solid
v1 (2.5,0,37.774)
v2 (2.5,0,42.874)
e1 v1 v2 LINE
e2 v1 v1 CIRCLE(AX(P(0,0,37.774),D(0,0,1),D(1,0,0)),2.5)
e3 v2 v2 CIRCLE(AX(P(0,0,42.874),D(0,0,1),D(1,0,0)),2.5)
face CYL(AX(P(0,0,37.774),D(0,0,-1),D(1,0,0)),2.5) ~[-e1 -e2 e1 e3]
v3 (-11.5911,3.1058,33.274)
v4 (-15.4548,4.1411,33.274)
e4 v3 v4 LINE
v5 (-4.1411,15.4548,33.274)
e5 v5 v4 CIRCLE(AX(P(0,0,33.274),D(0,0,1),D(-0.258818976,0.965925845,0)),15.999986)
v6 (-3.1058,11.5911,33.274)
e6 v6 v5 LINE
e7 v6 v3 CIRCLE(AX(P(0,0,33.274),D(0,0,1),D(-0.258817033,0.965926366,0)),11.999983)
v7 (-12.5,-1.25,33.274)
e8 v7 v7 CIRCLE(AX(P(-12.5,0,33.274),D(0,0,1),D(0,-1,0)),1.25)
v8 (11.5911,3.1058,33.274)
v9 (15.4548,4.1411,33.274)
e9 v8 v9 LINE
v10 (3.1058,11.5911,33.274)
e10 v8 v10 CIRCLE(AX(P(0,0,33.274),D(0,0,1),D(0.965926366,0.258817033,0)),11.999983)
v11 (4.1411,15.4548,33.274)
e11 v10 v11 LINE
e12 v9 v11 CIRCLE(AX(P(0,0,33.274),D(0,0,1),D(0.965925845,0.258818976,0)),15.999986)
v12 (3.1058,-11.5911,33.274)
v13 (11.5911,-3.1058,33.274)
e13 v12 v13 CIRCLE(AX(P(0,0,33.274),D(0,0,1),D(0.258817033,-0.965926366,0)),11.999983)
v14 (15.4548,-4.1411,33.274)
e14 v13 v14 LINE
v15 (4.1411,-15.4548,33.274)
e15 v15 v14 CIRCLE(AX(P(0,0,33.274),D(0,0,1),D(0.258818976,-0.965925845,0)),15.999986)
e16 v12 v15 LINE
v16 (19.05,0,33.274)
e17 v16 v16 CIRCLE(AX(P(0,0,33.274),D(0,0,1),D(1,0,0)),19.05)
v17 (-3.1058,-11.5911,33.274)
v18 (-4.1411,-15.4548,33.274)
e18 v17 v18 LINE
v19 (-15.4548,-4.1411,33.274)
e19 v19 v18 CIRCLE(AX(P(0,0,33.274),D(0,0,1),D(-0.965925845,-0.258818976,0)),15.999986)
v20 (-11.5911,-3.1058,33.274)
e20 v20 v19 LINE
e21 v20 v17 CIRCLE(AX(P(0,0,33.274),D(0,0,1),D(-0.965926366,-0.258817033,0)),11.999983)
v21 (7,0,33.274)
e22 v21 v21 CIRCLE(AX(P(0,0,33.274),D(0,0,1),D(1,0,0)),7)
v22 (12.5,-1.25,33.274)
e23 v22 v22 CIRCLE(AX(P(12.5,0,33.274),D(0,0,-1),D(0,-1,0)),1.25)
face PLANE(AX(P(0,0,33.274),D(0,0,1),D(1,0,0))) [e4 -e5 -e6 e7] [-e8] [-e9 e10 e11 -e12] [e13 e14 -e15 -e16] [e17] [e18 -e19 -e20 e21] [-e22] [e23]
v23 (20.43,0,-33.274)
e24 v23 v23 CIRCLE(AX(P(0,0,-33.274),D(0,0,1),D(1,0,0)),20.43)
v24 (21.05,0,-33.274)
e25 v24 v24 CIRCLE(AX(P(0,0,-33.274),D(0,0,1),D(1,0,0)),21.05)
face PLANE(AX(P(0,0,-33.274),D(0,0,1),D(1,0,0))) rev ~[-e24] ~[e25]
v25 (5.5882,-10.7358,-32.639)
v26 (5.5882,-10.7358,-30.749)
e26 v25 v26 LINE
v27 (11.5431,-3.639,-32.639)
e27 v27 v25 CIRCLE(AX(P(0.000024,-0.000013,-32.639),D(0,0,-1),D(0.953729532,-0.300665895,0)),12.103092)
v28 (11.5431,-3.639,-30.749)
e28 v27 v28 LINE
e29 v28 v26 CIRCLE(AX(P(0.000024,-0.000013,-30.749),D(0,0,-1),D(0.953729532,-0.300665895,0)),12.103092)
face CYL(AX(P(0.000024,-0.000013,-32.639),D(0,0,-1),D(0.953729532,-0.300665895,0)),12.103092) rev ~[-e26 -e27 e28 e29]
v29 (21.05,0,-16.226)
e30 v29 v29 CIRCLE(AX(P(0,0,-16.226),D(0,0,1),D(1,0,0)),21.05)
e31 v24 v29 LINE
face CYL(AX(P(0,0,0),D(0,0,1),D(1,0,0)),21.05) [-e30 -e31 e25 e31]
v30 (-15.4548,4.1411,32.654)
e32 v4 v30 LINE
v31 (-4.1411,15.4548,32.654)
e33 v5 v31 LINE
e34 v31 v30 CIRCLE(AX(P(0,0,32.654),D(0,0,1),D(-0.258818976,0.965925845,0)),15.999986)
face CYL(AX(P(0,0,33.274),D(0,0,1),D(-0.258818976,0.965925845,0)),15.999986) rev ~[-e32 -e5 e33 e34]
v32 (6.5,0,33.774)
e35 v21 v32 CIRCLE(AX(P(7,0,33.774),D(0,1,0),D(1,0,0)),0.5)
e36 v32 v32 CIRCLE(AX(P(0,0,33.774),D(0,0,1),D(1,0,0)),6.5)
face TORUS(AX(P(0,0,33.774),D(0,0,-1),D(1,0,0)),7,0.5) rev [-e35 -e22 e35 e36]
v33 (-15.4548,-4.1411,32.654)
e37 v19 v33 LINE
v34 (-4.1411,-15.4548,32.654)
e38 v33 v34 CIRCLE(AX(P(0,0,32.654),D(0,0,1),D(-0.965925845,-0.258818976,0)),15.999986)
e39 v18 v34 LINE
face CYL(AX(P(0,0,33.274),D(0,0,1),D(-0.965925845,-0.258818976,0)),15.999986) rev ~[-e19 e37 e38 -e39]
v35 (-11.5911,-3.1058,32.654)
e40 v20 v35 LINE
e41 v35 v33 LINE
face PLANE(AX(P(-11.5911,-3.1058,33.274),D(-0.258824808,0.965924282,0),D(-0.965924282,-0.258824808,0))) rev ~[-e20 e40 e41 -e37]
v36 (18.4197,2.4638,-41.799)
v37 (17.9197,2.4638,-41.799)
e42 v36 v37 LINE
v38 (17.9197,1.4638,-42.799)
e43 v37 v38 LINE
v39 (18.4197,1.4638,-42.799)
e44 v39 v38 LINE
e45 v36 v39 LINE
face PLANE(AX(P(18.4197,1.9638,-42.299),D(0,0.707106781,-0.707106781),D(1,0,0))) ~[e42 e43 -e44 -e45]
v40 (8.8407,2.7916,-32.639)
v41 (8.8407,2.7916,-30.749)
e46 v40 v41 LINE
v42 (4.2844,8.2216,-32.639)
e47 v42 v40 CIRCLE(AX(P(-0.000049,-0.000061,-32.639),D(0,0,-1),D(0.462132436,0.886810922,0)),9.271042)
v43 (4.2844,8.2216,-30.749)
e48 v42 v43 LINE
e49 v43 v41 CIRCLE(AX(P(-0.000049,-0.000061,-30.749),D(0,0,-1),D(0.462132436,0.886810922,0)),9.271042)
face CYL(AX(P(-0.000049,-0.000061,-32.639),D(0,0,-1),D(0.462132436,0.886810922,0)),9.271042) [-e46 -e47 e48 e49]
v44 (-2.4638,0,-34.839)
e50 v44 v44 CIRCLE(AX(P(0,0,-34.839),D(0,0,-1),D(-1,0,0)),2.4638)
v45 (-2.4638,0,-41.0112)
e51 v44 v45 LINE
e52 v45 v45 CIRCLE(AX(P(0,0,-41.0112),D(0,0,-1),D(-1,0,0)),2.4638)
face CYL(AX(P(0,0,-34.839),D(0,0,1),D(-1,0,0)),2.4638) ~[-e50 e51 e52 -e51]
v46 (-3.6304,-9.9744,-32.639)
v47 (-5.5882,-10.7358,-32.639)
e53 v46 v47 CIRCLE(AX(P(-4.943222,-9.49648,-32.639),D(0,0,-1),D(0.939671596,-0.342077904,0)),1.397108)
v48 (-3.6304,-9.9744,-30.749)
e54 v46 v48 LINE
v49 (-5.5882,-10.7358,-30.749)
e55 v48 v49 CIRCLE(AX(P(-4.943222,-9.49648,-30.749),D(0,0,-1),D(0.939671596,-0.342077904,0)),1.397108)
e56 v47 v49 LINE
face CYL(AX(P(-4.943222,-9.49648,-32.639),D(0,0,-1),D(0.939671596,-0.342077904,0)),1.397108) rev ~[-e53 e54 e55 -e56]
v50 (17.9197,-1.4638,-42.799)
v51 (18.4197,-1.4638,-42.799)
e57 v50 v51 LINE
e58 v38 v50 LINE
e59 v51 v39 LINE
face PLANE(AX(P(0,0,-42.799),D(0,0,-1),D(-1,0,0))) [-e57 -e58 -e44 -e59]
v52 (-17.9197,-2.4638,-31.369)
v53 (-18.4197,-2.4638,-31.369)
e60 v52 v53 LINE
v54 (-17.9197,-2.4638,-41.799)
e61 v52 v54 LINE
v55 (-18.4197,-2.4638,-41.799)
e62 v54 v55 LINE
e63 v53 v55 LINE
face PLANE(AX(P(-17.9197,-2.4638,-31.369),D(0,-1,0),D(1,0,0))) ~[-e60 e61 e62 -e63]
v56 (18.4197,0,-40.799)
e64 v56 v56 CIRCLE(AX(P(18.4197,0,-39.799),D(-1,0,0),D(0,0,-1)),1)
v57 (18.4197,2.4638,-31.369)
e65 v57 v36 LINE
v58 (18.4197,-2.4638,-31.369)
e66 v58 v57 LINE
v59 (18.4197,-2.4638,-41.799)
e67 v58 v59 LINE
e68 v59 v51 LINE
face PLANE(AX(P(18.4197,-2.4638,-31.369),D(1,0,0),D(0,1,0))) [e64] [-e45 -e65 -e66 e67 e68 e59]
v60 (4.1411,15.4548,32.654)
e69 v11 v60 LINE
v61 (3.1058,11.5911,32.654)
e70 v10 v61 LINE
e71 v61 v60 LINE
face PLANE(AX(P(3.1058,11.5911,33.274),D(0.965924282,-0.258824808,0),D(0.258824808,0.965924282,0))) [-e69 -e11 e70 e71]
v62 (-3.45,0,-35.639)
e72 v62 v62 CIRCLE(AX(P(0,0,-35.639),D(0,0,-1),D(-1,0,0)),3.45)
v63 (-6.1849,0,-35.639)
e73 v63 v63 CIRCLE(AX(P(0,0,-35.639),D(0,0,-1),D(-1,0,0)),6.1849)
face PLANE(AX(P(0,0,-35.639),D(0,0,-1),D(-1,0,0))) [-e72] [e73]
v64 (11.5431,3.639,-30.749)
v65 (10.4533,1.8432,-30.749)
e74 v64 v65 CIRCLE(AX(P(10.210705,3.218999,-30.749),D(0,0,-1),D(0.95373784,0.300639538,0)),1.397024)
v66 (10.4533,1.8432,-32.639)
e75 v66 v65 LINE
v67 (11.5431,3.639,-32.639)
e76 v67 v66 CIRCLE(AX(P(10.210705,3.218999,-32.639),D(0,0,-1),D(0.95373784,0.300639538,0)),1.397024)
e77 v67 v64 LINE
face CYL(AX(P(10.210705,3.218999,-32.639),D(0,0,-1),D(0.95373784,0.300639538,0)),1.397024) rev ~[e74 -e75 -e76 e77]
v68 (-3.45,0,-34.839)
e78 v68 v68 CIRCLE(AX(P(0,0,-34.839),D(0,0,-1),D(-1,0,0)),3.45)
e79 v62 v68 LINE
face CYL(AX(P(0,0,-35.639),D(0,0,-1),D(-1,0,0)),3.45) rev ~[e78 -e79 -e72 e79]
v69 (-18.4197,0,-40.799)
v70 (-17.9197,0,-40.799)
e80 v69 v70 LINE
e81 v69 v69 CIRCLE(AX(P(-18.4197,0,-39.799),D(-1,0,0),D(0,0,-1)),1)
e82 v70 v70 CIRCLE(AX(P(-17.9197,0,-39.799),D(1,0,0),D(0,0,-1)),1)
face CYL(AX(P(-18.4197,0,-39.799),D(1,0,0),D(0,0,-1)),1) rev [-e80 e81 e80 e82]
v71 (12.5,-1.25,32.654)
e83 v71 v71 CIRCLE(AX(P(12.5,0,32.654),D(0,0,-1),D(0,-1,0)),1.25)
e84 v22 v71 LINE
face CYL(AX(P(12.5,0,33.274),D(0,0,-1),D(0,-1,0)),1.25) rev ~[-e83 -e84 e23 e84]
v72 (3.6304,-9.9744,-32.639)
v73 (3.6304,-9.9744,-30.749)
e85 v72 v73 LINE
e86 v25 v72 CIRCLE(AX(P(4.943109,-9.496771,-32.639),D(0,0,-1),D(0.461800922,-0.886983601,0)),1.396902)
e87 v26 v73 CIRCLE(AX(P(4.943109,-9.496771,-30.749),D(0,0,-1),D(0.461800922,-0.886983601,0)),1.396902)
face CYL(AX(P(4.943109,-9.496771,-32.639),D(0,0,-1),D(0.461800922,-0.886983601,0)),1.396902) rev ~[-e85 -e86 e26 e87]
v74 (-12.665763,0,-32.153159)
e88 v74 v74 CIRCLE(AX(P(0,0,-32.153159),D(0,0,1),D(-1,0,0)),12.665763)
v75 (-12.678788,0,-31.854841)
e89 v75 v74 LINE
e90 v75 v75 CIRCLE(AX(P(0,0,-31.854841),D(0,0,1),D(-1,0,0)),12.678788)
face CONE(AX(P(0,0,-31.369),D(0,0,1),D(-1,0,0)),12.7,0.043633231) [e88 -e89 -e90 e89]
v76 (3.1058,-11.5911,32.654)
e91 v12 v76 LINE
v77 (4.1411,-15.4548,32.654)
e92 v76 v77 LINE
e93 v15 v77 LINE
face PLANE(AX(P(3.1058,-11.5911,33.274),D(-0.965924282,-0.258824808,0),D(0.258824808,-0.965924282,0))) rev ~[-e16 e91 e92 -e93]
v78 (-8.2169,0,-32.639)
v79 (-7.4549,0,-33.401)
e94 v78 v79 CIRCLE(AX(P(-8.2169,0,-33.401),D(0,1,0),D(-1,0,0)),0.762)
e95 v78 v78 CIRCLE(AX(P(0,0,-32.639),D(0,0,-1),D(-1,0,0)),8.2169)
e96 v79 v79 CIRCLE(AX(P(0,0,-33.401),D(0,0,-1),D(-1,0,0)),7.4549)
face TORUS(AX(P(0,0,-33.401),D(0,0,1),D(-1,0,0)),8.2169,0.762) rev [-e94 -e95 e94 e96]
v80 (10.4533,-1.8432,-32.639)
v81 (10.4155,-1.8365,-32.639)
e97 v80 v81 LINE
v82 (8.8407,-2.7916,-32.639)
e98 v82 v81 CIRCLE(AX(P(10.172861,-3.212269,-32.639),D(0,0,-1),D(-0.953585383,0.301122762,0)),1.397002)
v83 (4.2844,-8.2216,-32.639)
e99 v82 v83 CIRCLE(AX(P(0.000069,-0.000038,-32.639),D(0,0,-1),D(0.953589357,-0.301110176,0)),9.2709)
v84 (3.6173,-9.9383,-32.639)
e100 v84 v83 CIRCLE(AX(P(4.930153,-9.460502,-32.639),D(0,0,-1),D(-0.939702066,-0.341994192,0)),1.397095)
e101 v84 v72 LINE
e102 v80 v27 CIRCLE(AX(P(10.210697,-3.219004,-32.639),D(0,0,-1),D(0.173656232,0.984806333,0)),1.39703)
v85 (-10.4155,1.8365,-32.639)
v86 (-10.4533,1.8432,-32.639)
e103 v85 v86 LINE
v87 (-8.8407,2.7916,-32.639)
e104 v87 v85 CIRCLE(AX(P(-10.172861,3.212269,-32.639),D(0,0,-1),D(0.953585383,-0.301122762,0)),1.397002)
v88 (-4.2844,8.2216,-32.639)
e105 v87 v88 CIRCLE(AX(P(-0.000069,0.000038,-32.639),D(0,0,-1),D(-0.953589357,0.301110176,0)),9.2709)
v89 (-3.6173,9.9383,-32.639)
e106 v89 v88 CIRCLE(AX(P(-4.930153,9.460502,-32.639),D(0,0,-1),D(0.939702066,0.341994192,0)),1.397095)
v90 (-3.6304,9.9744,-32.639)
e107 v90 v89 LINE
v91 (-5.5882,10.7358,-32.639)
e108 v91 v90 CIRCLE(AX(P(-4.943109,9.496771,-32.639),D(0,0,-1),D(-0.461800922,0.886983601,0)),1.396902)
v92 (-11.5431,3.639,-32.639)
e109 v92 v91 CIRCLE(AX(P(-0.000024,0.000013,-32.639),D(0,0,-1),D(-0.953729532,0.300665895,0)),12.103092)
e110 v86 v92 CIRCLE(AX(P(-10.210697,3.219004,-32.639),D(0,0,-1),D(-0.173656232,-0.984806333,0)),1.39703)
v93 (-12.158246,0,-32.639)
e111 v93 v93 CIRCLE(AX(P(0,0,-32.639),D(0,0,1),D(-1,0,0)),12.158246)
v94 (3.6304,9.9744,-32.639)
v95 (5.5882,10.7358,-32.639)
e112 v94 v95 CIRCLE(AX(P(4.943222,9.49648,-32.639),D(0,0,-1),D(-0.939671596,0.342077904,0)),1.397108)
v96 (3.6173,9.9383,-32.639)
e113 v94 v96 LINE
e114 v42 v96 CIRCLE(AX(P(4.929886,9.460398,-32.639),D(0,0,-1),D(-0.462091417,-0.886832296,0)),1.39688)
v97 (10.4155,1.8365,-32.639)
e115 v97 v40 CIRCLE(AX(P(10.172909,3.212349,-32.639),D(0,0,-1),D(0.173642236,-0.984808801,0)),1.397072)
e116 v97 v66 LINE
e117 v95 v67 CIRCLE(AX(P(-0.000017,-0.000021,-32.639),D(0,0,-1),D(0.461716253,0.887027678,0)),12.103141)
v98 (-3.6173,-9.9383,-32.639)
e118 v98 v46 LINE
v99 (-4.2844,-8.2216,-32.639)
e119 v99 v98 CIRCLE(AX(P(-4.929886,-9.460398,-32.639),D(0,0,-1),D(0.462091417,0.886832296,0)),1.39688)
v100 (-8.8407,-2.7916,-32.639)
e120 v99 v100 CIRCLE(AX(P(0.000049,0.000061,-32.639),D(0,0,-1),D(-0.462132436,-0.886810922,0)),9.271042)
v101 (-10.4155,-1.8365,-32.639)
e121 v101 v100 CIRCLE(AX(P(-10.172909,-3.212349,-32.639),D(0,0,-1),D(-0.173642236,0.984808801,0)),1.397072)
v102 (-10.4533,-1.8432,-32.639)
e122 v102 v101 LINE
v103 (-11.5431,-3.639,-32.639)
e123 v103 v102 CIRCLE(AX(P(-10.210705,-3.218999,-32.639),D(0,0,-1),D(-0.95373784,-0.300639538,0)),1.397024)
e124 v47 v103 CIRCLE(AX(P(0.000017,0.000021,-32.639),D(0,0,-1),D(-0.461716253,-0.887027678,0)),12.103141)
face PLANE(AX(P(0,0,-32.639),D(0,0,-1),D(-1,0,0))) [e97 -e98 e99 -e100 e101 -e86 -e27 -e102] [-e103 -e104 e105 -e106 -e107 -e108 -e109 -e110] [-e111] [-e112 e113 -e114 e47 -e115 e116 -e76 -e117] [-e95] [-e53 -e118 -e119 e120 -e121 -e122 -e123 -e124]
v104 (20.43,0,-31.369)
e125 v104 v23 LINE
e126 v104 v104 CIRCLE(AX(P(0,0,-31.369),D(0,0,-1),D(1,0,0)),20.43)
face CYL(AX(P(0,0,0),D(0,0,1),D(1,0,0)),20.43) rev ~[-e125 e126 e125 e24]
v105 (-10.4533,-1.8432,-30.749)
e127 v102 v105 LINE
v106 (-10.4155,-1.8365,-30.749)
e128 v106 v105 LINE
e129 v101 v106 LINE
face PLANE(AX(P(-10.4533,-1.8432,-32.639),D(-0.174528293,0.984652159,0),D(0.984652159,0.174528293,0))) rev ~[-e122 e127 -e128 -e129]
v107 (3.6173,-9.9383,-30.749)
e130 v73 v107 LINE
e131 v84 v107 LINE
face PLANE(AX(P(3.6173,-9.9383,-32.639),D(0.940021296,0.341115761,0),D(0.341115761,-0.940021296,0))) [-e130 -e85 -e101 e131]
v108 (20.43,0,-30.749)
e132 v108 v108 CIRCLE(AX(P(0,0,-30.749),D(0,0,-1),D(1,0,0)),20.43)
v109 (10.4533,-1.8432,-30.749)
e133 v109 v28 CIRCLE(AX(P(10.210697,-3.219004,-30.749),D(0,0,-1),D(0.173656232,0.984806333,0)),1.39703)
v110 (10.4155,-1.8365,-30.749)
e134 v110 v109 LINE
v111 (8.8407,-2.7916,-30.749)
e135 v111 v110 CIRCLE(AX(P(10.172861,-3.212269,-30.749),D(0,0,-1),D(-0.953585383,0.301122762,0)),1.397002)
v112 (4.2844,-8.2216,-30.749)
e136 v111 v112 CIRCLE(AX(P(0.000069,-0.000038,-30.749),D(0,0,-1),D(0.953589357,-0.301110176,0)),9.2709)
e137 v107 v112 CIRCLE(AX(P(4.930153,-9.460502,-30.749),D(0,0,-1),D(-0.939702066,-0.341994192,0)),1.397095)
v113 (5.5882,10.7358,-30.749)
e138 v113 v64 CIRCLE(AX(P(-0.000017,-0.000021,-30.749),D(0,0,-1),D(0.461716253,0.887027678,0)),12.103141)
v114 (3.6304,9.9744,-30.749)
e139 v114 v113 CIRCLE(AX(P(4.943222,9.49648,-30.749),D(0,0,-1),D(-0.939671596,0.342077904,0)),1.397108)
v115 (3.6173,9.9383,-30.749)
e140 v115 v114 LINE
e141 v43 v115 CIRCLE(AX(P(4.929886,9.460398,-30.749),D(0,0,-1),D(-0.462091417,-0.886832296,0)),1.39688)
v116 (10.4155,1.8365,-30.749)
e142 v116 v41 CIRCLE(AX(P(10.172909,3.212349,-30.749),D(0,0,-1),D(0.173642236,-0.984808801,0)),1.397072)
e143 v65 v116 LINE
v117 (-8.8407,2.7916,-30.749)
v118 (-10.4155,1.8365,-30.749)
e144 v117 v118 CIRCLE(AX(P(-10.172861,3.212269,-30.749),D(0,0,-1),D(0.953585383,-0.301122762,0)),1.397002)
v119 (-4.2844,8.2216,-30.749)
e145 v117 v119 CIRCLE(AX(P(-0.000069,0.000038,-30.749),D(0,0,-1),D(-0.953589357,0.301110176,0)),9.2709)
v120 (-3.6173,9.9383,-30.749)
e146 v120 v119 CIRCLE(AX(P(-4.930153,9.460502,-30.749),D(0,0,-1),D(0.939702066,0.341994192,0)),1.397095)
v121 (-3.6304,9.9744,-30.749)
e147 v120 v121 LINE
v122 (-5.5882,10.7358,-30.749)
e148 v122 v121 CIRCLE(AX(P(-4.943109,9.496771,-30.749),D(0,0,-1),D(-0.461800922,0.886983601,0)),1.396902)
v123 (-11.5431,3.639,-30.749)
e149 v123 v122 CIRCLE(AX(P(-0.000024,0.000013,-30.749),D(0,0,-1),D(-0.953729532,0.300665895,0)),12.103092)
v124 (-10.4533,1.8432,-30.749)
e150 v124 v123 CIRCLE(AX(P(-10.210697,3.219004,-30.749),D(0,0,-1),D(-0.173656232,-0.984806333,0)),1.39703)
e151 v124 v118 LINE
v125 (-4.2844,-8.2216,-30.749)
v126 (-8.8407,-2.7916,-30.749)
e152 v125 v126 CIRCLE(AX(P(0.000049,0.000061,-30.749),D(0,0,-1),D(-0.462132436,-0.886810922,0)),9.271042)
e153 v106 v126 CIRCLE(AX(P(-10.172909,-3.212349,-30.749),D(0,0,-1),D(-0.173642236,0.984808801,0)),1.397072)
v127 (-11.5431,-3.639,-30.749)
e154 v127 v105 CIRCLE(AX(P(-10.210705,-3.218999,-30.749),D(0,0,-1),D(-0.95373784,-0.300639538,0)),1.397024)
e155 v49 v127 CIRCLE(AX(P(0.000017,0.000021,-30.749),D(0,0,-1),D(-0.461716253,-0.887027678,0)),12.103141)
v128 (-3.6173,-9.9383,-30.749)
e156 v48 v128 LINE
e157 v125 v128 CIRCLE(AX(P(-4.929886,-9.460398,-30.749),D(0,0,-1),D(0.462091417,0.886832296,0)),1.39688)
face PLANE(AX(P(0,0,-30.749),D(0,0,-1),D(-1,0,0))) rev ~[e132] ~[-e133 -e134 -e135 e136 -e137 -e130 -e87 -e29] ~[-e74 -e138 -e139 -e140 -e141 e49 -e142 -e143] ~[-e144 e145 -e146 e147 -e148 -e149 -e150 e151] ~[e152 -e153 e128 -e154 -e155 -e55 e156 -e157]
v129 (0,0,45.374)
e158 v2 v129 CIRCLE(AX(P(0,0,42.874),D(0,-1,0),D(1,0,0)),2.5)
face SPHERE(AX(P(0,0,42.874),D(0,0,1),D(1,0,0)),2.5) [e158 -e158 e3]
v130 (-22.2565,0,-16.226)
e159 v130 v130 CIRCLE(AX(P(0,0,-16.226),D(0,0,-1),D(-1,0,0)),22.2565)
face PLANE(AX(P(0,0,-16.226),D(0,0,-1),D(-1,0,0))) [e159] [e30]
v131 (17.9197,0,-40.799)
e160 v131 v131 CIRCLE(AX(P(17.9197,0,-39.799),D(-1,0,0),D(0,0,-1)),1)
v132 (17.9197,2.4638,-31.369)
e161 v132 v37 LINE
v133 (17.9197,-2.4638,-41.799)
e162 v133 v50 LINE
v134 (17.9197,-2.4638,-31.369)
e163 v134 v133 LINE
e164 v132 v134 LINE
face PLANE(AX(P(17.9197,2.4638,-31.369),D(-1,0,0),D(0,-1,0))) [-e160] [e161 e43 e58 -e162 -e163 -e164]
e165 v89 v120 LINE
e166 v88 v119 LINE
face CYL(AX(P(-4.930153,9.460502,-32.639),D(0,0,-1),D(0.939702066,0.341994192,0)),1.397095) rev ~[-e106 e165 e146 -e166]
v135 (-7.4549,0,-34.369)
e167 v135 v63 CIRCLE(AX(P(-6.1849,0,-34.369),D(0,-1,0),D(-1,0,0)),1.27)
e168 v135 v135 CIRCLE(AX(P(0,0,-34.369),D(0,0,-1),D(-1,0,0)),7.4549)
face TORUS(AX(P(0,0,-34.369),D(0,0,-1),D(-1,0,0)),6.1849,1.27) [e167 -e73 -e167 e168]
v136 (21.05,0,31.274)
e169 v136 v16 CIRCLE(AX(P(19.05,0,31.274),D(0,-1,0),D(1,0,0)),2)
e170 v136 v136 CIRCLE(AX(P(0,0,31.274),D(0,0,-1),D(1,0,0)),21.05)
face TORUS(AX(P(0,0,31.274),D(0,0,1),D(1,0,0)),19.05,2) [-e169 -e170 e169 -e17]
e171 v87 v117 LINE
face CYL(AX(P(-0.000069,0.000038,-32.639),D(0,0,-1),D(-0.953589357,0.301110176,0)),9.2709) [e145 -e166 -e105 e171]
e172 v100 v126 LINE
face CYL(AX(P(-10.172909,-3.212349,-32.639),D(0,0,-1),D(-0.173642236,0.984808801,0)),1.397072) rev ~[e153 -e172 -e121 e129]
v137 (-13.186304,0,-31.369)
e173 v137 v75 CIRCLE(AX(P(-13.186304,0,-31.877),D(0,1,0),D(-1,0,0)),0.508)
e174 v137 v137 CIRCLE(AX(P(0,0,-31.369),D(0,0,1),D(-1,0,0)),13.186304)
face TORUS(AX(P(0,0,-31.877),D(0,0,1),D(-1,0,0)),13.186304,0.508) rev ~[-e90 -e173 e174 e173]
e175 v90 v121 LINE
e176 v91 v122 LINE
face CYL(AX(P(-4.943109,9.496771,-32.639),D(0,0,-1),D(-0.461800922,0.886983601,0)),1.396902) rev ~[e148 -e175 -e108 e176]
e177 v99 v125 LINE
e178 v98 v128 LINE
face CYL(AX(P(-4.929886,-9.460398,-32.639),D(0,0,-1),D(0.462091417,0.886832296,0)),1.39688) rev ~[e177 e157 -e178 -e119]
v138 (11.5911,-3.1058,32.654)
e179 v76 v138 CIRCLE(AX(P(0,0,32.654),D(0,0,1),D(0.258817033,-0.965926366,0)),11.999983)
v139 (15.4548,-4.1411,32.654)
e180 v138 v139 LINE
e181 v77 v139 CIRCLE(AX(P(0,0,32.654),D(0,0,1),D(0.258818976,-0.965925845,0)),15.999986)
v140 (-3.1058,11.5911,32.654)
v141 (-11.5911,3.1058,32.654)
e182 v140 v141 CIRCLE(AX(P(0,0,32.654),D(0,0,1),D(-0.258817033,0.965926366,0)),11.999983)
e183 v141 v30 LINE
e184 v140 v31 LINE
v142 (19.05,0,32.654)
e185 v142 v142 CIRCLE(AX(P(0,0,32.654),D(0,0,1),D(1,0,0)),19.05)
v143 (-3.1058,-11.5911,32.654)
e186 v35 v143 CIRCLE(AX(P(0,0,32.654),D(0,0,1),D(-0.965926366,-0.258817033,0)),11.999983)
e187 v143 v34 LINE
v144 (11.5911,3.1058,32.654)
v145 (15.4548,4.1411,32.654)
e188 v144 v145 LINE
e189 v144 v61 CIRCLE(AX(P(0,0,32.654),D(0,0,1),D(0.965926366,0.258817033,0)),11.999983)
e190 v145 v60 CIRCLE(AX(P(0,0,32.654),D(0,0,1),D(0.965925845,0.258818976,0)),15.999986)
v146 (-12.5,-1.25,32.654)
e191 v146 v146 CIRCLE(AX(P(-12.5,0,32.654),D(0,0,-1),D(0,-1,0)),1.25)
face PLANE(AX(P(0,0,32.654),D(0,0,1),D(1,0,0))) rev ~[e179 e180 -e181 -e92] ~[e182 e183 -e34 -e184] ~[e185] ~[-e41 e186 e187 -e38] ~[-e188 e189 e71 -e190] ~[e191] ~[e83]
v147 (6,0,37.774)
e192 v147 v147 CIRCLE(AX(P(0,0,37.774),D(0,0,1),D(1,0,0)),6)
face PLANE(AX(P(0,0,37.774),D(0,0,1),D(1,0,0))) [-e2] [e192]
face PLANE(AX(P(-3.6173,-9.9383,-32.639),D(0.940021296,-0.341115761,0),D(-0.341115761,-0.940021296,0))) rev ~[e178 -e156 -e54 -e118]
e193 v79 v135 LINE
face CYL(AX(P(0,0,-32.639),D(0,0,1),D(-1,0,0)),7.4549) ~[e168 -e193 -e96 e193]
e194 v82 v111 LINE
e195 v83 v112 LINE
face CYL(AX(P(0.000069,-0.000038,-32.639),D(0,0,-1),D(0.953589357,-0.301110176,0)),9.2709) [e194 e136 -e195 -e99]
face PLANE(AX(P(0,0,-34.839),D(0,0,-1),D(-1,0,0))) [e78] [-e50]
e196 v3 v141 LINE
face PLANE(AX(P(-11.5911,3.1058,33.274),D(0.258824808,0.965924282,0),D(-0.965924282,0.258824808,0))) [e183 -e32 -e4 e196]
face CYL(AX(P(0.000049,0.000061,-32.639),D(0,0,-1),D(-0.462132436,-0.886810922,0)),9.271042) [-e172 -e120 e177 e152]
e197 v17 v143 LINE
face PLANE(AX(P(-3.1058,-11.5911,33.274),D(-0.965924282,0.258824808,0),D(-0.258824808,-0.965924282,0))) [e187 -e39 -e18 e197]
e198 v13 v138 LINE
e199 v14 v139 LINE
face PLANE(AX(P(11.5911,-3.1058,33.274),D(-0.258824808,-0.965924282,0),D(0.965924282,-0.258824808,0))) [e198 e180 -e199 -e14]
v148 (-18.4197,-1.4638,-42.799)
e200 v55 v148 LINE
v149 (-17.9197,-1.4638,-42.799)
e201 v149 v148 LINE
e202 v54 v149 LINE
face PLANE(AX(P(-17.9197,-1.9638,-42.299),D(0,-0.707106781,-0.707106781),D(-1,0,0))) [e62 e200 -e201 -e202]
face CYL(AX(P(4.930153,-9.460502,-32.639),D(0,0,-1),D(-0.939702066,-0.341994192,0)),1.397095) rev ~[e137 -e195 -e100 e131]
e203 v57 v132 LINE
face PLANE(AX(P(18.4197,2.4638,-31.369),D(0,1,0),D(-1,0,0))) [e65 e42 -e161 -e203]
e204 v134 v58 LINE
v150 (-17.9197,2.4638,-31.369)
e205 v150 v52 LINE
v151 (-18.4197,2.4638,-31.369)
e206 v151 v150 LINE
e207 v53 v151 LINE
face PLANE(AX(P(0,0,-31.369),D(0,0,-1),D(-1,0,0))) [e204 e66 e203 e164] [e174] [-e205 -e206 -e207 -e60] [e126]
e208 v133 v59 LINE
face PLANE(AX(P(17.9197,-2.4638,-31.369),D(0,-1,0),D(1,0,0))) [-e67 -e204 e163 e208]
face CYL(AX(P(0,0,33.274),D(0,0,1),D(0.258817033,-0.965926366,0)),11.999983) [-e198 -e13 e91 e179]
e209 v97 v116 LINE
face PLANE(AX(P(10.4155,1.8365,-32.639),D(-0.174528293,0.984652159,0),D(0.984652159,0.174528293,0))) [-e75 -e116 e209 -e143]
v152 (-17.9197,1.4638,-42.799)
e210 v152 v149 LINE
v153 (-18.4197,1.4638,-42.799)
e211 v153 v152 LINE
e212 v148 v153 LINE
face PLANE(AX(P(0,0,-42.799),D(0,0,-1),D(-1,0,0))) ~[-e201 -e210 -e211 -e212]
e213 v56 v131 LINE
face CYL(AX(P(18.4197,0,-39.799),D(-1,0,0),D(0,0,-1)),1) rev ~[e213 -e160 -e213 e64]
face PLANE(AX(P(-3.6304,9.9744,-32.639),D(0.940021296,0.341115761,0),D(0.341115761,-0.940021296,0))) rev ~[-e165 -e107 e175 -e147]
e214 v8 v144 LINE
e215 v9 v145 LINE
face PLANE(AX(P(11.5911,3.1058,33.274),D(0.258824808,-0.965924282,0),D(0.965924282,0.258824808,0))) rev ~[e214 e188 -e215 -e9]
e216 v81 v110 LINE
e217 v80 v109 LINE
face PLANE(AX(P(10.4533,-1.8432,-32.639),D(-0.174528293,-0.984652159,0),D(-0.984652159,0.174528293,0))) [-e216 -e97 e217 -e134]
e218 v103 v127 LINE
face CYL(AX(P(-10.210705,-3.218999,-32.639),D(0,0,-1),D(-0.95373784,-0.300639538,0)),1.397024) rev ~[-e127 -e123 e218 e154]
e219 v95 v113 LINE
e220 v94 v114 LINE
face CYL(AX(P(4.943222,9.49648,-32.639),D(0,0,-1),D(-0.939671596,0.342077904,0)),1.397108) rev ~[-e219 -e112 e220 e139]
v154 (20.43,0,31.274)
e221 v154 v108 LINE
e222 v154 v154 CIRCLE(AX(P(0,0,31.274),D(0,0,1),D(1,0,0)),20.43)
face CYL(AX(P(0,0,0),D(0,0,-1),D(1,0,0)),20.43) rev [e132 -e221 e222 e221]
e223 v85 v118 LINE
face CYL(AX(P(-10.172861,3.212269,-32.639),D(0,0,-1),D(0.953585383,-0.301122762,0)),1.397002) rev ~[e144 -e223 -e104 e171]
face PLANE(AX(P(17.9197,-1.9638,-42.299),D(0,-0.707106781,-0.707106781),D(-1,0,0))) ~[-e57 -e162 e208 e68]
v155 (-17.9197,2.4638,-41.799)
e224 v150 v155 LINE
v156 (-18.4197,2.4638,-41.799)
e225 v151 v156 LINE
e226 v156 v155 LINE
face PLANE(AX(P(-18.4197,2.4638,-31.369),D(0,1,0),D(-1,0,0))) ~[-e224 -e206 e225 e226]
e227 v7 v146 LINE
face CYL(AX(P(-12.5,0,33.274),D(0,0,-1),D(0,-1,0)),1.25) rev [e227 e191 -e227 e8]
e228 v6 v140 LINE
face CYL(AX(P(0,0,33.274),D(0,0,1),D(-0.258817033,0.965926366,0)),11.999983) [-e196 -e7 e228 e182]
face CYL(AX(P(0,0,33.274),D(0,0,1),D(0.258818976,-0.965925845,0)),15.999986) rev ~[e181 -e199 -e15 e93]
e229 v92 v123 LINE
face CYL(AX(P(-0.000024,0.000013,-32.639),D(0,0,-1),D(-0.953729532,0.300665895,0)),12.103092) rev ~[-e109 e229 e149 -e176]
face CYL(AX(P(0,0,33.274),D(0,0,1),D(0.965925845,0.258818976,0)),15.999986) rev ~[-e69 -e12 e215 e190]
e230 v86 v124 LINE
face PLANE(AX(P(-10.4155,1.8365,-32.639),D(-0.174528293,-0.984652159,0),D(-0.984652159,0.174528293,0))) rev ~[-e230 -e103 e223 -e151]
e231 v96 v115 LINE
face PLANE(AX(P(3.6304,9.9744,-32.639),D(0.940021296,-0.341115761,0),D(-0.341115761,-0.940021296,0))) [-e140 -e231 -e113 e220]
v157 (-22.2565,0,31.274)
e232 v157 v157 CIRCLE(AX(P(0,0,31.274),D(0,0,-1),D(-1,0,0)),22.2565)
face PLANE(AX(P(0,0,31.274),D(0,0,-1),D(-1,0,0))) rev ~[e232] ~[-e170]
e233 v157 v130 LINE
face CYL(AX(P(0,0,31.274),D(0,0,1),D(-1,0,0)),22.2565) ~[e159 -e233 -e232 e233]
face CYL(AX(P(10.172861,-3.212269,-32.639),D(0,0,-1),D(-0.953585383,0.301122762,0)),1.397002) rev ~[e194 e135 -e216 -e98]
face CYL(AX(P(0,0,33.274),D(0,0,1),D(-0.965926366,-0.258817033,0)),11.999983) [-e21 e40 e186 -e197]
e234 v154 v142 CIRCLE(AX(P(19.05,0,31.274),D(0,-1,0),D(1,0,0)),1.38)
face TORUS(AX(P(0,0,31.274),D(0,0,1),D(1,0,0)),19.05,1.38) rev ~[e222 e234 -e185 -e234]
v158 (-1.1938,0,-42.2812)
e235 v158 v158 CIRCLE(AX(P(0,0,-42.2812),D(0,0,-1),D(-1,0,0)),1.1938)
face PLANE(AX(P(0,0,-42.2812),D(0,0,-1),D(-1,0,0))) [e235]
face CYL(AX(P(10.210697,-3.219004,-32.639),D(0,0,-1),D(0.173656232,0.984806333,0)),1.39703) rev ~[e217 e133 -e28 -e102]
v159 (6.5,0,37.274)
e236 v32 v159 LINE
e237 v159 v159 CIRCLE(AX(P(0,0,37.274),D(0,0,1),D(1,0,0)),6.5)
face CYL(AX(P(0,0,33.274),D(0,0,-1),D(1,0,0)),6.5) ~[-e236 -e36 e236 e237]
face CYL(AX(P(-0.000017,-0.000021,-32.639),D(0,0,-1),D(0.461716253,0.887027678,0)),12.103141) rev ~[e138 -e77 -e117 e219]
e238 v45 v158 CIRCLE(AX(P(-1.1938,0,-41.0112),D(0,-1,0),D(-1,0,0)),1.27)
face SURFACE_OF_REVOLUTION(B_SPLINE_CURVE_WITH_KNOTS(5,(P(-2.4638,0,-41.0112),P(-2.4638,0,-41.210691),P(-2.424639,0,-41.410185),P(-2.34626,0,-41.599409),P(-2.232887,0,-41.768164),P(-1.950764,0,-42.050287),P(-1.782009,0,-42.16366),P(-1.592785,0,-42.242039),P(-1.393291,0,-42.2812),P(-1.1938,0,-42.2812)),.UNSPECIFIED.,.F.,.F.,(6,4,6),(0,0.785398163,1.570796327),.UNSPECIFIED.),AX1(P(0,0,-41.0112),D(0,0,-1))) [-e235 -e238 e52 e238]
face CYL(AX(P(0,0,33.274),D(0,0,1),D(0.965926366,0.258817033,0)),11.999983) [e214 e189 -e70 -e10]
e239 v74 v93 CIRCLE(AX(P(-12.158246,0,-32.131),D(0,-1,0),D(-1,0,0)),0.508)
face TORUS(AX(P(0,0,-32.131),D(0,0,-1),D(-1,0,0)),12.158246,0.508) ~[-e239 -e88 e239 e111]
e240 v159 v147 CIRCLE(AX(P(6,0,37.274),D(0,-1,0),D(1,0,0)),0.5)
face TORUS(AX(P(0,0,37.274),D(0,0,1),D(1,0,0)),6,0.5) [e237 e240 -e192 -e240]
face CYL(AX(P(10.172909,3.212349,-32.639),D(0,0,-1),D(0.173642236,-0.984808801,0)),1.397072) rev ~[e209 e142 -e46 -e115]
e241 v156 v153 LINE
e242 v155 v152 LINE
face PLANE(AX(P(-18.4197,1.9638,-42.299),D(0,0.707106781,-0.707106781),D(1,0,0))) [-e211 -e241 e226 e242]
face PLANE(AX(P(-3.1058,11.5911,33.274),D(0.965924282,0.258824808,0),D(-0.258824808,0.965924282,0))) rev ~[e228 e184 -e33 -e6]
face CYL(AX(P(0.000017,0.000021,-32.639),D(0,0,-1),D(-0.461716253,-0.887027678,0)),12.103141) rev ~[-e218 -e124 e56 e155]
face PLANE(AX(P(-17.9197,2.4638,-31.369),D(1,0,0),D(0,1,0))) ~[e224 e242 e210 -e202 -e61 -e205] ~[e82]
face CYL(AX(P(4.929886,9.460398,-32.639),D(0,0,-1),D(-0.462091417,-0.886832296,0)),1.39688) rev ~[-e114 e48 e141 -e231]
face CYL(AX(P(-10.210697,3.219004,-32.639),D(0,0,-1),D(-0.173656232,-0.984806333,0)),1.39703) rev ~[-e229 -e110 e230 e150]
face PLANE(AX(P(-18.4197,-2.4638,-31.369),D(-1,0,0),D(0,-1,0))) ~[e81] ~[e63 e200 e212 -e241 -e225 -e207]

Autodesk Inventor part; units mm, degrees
sketch "Sketch1" plane through (0, 0, 0) normal (0, 0, 1) x (1, 0, 0)
  circle A0 centre (0, 0) radius 21.05
  dimension "d0" = 42.1
extrude "Extrusion1" add sketch "Sketch1" along normal mid plane 66.548
fillet "Fillet1" radius 2 1 edges at (-21.05, 0, 33.274)
shell "Shell1" thickness 0.62 removed faces 1 at (3.9859, -5.7746, -33.274)
sketch "Sketch2" plane through (0, 0, 33.274) normal (0, 0, 1) x (1, 0, 0)
  circle A0 centre (0, 0) radius 19.05 projected
  circle A1 centre (0, 0) radius 6.5
  dimension "d5" = 13
extrude "Extrusion2" add sketch "Sketch2" along normal blind 4.5 contours A1
fillet "Fillet2" radius 0.5 2 edges at (-6.5, 0, 33.274) (-6.5, 0, 37.774)
sketch "Sketch3" plane through (0, 0, 37.774) normal (0, 0, 1) x (1, 0, 0)
  circle A0 centre (0, 0) radius 6 projected
  circle A1 centre (0, 0) radius 2.5
  dimension "d9" = 5
extrude "Extrusion3" add sketch "Sketch3" along normal blind 7.6 contours A1
fillet "Fillet3" radius 2.5 1 edges at (-2.5, 0, 45.374)
sketch "Sketch4" plane through (0, 0, 33.274) normal (0, 0, 1) x (1, 0, 0)
  circle A0 centre (0, 0) radius 19.05 projected
  point P0 (12.5, 0)
  dimension "d13" = 12.5
hole "Hole1" at (12.5, 0, 33.274) direction (0, 0, -1) diameter 2.5 depth 8 tip angle 118
mirror "Mirror1" about plane through (0, 0, 0) normal (1, 0, 0) of "Hole1"
sketch "Sketch5" plane through (0, 0, 33.274) normal (0, 0, 1) x (1, 0, 0)
  circle A0 centre (12.5, 0) radius 1.25 projected
  circle A1 centre (0, 0) radius 7 projected
  arc A2 (15.4548, 4.1411) -> (4.1411, 15.4548) centre (0, 0) ccw
  arc A3 (11.5911, 3.1058) -> (3.1058, 11.5911) centre (0, 0) ccw
  line L0 (0, 0) -> (4.1411, 15.4548) construction
  line L1 (0, 0) -> (15.4548, 4.1411) construction
  line L2 (3.1058, 11.5911) -> (4.1411, 15.4548)
  line L3 (11.5911, 3.1058) -> (15.4548, 4.1411)
  line L4 (0, 0) -> (12.5, 0) construction
  line L5 (0.151, 0.5634) -> (0.151, 14.7153) construction
  dimension "d21" = 15
  dimension "d22" = 15
  dimension "d23" = 16
  dimension "d24" = 12
extrude "Extrusion4" cut sketch "Sketch5" against normal blind 10 contours L3 A3 L2 A2
pattern_circular "Circular Pattern1" count 4 over 360 about axis through (0, 0, 0) along (0, 0, 1) of "Extrusion4"
ref_plane "Work Plane1" through (0, 0, -31.369) normal (0, 0, -1) x (-1, 0, 0)
sketch "Sketch6" plane through (0, 0, -31.369) normal (0, 0, -1) x (-1, 0, 0)
  circle A0 centre (0, 0) radius 20.43 projected
extrude "Extrusion5" add sketch "Sketch6" against normal blind 0.62
sketch "Sketch7" plane through (0, 0, -31.369) normal (0, 0, -1) x (-1, 0, 0)
  circle A0 centre (0, 0) radius 20.43 projected
  circle A1 centre (0, 0) radius 12.7
  dimension "d33" = 25.4
extrude "Extrusion6" add sketch "Sketch7" along normal blind 1.27 draft -2.5 contours A1
fillet "Fillet4" radius 0.508 1 edges at (12.7, 0, -31.369)
fillet "Fillet5" radius 0.508 1 edges at (12.6446, 0, -32.639)
sketch "Sketch16" plane through (0, 0, -32.639) normal (0, 0, -1) x (-1, 0, 0)
  circle A0 centre (0, 0) radius 12.4207
  arc A1 (10.4533, 1.8432) -> (11.5431, 3.639) centre (10.2107, 3.219) ccw
  line L0 (10.4155, 1.8365) -> (10.4533, 1.8432)
  arc A2 (8.8407, 2.7916) -> (10.4155, 1.8365) centre (10.1729, 3.2123) ccw
  arc A3 (8.8407, 2.7916) -> (4.2844, 8.2216) centre (0, 0) ccw
  arc A4 (3.6173, 9.9383) -> (4.2844, 8.2216) centre (4.93, 9.4605) ccw
  line L1 (3.6304, 9.9744) -> (3.6173, 9.9383)
  arc A5 (5.5882, 10.7358) -> (3.6304, 9.9744) centre (4.9431, 9.4966) ccw
  arc A6 (11.5431, 3.639) -> (5.5882, 10.7358) centre (0, 0) ccw
  arc A7 (3.6304, -9.9744) -> (5.5882, -10.7358) centre (4.9431, -9.4966) ccw
  line L2 (3.6173, -9.9383) -> (3.6304, -9.9744)
  arc A8 (4.2844, -8.2216) -> (3.6173, -9.9383) centre (4.93, -9.4605) ccw
  arc A9 (4.2844, -8.2216) -> (8.8407, -2.7916) centre (0, 0) ccw
  arc A10 (10.4155, -1.8365) -> (8.8407, -2.7916) centre (10.1729, -3.2123) ccw
  line L3 (10.4533, -1.8432) -> (10.4155, -1.8365)
  arc A11 (11.5431, -3.639) -> (10.4533, -1.8432) centre (10.2107, -3.219) ccw
  arc A12 (5.5882, -10.7358) -> (11.5431, -3.639) centre (0, 0) ccw
  circle A13 centre (0, 0) radius 8.2169
  line L4 (-3.6173, -9.9383) -> (-3.6304, -9.9744)
  arc A14 (-5.5882, -10.7358) -> (-3.6304, -9.9744) centre (-4.9431, -9.4966) ccw
  arc A15 (-11.5431, -3.639) -> (-5.5882, -10.7358) centre (0, 0) ccw
  arc A16 (-10.4533, -1.8432) -> (-11.5431, -3.639) centre (-10.2107, -3.219) ccw
  line L5 (-10.4533, -1.8432) -> (-10.4155, -1.8365)
  arc A17 (-8.8407, -2.7916) -> (-10.4155, -1.8365) centre (-10.1729, -3.2123) ccw
  arc A18 (-8.8407, -2.7916) -> (-4.2844, -8.2216) centre (0, 0) ccw
  arc A19 (-3.6173, -9.9383) -> (-4.2844, -8.2216) centre (-4.93, -9.4605) ccw
  line L6 (-10.4155, 1.8365) -> (-10.4533, 1.8432)
  arc A20 (-11.5431, 3.639) -> (-10.4533, 1.8432) centre (-10.2107, 3.219) ccw
  arc A21 (-5.5882, 10.7358) -> (-11.5431, 3.639) centre (0, 0) ccw
  arc A22 (-3.6304, 9.9744) -> (-5.5882, 10.7358) centre (-4.9431, 9.4966) ccw
  line L7 (-3.6304, 9.9744) -> (-3.6173, 9.9383)
  arc A23 (-4.2844, 8.2216) -> (-3.6173, 9.9383) centre (-4.93, 9.4605) ccw
  arc A24 (-4.2844, 8.2216) -> (-8.8407, 2.7916) centre (0, 0) ccw
  arc A25 (-10.4155, 1.8365) -> (-8.8407, 2.7916) centre (-10.1729, 3.2123) ccw
  circle A26 centre (0, 0) radius 3.2359
extrude "Extrusion14" cut sketch "Sketch16" against normal up to next contours L0 A2 A3 A4 L1 A5 A6 A1 | L2 A8 A9 A10 L3 A11 A12 A7 | L4 A14 A15 A16 L5 A17 A18 A19 | L6 A20 A21 A22 L7 A23 A24 A25
sketch "Sketch8" plane through (0, 0, -32.639) normal (0, 0, -1) x (-1, 0, 0)
  circle A0 centre (0, 0) radius 12.6446 projected
  circle A1 centre (0, 0) radius 7.4549
  dimension "d36" = 14.9098
extrude "Extrusion7" add sketch "Sketch8" along normal blind 3 contours A1
sketch "Sketch9" plane through (0, 0, -35.639) normal (0, 0, -1) x (-1, 0, 0)
  circle A0 centre (0, 0) radius 7.4549 projected
  circle A1 centre (0, 0) radius 3.45
  dimension "d39" = 6.9
extrude "Extrusion8" cut sketch "Sketch9" against normal blind 0.8 contours A1
sketch "Sketch10" plane through (0, 0, -34.839) normal (0, 0, -1) x (-1, 0, 0)
  circle A0 centre (0, 0) radius 3.45 projected
  circle A1 centre (0, 0) radius 2.4638
  dimension "d42" = 4.9276
extrude "Extrusion9" add sketch "Sketch10" along normal blind 7.4422 contours A1
sketch "Sketch12" plane through (0, 0, -31.369) normal (0, 0, -1) x (-1, 0, 0)
  circle A0 centre (0, 0) radius 12.7 projected
  circle A1 centre (0, 0) radius 20.43 projected
  line L0 (-18.4197, 2.4638) -> (-17.9197, 2.4638)
  line L1 (-17.9197, 2.4638) -> (-17.9197, -2.4638)
  line L2 (-17.9197, -2.4638) -> (-18.4197, -2.4638)
  line L3 (-18.4197, -2.4638) -> (-18.4197, 2.4638)
  line L4 (0, 0) -> (-16.9017, 0) construction
  point P0 (-17.9197, 0)
  dimension "d54" = 0.5
  dimension "d55" = 4.9276
  dimension "d56" = 17.9197
extrude "Extrusion11" add sketch "Sketch12" along normal blind 11.43 contours L0 L1 L2 L3
chamfer "Chamfer1" distance 1 angle 45 2 edges at (18.1697, 2.4638, -42.799) (18.1697, -2.4638, -42.799)
sketch "Sketch13" plane through (18.4197, -2.4638, -31.369) normal (1, 0, 0) x (0, 0, -1)
  line L0 (11.43, 1) -> (11.43, 3.9276) projected
  line L1 (8.43, 2.4638) -> (10.43, 4.9276) construction
  line L2 (8.43, 2.4638) -> (10.43, 0) construction
  dimension "d61" = 3
hole "Hole2" at (18.4197, 0, -39.799) direction (-1, 0, 0) diameter 2 depth 1 tip angle 118
mirror "Mirror2" about plane through (0, 0, 0) normal (1, 0, 0) of "Extrusion11", "Chamfer1", "Hole2"
ref_plane "Work Plane2" through (18, 0, 0) normal (1, 0, 0) x (0, 1, 0)
ref_plane "Work Plane3" through (0, 0, 31.274) normal (0, 0, -1) x (-1, 0, 0)
sketch "Sketch15" plane through (0, 0, 31.274) normal (0, 0, -1) x (-1, 0, 0)
  circle A0 centre (0, 0) radius 21.05 projected
  circle A1 centre (0, 0) radius 22.2565
  dimension "d76" = 1.2065
extrude "Flux Ring" add sketch "Sketch15" along normal blind 47.5
fillet "Fillet6" radius 0.762 1 edges at (7.4549, 0, -32.639)
fillet "Fillet7" radius 1.27 1 edges at (7.4549, 0, -35.639)
fillet "Fillet8" radius 1.27 1 edges at (2.4638, 0, -42.2812)
properties part number "RS-775" material "Steel, Mild"
